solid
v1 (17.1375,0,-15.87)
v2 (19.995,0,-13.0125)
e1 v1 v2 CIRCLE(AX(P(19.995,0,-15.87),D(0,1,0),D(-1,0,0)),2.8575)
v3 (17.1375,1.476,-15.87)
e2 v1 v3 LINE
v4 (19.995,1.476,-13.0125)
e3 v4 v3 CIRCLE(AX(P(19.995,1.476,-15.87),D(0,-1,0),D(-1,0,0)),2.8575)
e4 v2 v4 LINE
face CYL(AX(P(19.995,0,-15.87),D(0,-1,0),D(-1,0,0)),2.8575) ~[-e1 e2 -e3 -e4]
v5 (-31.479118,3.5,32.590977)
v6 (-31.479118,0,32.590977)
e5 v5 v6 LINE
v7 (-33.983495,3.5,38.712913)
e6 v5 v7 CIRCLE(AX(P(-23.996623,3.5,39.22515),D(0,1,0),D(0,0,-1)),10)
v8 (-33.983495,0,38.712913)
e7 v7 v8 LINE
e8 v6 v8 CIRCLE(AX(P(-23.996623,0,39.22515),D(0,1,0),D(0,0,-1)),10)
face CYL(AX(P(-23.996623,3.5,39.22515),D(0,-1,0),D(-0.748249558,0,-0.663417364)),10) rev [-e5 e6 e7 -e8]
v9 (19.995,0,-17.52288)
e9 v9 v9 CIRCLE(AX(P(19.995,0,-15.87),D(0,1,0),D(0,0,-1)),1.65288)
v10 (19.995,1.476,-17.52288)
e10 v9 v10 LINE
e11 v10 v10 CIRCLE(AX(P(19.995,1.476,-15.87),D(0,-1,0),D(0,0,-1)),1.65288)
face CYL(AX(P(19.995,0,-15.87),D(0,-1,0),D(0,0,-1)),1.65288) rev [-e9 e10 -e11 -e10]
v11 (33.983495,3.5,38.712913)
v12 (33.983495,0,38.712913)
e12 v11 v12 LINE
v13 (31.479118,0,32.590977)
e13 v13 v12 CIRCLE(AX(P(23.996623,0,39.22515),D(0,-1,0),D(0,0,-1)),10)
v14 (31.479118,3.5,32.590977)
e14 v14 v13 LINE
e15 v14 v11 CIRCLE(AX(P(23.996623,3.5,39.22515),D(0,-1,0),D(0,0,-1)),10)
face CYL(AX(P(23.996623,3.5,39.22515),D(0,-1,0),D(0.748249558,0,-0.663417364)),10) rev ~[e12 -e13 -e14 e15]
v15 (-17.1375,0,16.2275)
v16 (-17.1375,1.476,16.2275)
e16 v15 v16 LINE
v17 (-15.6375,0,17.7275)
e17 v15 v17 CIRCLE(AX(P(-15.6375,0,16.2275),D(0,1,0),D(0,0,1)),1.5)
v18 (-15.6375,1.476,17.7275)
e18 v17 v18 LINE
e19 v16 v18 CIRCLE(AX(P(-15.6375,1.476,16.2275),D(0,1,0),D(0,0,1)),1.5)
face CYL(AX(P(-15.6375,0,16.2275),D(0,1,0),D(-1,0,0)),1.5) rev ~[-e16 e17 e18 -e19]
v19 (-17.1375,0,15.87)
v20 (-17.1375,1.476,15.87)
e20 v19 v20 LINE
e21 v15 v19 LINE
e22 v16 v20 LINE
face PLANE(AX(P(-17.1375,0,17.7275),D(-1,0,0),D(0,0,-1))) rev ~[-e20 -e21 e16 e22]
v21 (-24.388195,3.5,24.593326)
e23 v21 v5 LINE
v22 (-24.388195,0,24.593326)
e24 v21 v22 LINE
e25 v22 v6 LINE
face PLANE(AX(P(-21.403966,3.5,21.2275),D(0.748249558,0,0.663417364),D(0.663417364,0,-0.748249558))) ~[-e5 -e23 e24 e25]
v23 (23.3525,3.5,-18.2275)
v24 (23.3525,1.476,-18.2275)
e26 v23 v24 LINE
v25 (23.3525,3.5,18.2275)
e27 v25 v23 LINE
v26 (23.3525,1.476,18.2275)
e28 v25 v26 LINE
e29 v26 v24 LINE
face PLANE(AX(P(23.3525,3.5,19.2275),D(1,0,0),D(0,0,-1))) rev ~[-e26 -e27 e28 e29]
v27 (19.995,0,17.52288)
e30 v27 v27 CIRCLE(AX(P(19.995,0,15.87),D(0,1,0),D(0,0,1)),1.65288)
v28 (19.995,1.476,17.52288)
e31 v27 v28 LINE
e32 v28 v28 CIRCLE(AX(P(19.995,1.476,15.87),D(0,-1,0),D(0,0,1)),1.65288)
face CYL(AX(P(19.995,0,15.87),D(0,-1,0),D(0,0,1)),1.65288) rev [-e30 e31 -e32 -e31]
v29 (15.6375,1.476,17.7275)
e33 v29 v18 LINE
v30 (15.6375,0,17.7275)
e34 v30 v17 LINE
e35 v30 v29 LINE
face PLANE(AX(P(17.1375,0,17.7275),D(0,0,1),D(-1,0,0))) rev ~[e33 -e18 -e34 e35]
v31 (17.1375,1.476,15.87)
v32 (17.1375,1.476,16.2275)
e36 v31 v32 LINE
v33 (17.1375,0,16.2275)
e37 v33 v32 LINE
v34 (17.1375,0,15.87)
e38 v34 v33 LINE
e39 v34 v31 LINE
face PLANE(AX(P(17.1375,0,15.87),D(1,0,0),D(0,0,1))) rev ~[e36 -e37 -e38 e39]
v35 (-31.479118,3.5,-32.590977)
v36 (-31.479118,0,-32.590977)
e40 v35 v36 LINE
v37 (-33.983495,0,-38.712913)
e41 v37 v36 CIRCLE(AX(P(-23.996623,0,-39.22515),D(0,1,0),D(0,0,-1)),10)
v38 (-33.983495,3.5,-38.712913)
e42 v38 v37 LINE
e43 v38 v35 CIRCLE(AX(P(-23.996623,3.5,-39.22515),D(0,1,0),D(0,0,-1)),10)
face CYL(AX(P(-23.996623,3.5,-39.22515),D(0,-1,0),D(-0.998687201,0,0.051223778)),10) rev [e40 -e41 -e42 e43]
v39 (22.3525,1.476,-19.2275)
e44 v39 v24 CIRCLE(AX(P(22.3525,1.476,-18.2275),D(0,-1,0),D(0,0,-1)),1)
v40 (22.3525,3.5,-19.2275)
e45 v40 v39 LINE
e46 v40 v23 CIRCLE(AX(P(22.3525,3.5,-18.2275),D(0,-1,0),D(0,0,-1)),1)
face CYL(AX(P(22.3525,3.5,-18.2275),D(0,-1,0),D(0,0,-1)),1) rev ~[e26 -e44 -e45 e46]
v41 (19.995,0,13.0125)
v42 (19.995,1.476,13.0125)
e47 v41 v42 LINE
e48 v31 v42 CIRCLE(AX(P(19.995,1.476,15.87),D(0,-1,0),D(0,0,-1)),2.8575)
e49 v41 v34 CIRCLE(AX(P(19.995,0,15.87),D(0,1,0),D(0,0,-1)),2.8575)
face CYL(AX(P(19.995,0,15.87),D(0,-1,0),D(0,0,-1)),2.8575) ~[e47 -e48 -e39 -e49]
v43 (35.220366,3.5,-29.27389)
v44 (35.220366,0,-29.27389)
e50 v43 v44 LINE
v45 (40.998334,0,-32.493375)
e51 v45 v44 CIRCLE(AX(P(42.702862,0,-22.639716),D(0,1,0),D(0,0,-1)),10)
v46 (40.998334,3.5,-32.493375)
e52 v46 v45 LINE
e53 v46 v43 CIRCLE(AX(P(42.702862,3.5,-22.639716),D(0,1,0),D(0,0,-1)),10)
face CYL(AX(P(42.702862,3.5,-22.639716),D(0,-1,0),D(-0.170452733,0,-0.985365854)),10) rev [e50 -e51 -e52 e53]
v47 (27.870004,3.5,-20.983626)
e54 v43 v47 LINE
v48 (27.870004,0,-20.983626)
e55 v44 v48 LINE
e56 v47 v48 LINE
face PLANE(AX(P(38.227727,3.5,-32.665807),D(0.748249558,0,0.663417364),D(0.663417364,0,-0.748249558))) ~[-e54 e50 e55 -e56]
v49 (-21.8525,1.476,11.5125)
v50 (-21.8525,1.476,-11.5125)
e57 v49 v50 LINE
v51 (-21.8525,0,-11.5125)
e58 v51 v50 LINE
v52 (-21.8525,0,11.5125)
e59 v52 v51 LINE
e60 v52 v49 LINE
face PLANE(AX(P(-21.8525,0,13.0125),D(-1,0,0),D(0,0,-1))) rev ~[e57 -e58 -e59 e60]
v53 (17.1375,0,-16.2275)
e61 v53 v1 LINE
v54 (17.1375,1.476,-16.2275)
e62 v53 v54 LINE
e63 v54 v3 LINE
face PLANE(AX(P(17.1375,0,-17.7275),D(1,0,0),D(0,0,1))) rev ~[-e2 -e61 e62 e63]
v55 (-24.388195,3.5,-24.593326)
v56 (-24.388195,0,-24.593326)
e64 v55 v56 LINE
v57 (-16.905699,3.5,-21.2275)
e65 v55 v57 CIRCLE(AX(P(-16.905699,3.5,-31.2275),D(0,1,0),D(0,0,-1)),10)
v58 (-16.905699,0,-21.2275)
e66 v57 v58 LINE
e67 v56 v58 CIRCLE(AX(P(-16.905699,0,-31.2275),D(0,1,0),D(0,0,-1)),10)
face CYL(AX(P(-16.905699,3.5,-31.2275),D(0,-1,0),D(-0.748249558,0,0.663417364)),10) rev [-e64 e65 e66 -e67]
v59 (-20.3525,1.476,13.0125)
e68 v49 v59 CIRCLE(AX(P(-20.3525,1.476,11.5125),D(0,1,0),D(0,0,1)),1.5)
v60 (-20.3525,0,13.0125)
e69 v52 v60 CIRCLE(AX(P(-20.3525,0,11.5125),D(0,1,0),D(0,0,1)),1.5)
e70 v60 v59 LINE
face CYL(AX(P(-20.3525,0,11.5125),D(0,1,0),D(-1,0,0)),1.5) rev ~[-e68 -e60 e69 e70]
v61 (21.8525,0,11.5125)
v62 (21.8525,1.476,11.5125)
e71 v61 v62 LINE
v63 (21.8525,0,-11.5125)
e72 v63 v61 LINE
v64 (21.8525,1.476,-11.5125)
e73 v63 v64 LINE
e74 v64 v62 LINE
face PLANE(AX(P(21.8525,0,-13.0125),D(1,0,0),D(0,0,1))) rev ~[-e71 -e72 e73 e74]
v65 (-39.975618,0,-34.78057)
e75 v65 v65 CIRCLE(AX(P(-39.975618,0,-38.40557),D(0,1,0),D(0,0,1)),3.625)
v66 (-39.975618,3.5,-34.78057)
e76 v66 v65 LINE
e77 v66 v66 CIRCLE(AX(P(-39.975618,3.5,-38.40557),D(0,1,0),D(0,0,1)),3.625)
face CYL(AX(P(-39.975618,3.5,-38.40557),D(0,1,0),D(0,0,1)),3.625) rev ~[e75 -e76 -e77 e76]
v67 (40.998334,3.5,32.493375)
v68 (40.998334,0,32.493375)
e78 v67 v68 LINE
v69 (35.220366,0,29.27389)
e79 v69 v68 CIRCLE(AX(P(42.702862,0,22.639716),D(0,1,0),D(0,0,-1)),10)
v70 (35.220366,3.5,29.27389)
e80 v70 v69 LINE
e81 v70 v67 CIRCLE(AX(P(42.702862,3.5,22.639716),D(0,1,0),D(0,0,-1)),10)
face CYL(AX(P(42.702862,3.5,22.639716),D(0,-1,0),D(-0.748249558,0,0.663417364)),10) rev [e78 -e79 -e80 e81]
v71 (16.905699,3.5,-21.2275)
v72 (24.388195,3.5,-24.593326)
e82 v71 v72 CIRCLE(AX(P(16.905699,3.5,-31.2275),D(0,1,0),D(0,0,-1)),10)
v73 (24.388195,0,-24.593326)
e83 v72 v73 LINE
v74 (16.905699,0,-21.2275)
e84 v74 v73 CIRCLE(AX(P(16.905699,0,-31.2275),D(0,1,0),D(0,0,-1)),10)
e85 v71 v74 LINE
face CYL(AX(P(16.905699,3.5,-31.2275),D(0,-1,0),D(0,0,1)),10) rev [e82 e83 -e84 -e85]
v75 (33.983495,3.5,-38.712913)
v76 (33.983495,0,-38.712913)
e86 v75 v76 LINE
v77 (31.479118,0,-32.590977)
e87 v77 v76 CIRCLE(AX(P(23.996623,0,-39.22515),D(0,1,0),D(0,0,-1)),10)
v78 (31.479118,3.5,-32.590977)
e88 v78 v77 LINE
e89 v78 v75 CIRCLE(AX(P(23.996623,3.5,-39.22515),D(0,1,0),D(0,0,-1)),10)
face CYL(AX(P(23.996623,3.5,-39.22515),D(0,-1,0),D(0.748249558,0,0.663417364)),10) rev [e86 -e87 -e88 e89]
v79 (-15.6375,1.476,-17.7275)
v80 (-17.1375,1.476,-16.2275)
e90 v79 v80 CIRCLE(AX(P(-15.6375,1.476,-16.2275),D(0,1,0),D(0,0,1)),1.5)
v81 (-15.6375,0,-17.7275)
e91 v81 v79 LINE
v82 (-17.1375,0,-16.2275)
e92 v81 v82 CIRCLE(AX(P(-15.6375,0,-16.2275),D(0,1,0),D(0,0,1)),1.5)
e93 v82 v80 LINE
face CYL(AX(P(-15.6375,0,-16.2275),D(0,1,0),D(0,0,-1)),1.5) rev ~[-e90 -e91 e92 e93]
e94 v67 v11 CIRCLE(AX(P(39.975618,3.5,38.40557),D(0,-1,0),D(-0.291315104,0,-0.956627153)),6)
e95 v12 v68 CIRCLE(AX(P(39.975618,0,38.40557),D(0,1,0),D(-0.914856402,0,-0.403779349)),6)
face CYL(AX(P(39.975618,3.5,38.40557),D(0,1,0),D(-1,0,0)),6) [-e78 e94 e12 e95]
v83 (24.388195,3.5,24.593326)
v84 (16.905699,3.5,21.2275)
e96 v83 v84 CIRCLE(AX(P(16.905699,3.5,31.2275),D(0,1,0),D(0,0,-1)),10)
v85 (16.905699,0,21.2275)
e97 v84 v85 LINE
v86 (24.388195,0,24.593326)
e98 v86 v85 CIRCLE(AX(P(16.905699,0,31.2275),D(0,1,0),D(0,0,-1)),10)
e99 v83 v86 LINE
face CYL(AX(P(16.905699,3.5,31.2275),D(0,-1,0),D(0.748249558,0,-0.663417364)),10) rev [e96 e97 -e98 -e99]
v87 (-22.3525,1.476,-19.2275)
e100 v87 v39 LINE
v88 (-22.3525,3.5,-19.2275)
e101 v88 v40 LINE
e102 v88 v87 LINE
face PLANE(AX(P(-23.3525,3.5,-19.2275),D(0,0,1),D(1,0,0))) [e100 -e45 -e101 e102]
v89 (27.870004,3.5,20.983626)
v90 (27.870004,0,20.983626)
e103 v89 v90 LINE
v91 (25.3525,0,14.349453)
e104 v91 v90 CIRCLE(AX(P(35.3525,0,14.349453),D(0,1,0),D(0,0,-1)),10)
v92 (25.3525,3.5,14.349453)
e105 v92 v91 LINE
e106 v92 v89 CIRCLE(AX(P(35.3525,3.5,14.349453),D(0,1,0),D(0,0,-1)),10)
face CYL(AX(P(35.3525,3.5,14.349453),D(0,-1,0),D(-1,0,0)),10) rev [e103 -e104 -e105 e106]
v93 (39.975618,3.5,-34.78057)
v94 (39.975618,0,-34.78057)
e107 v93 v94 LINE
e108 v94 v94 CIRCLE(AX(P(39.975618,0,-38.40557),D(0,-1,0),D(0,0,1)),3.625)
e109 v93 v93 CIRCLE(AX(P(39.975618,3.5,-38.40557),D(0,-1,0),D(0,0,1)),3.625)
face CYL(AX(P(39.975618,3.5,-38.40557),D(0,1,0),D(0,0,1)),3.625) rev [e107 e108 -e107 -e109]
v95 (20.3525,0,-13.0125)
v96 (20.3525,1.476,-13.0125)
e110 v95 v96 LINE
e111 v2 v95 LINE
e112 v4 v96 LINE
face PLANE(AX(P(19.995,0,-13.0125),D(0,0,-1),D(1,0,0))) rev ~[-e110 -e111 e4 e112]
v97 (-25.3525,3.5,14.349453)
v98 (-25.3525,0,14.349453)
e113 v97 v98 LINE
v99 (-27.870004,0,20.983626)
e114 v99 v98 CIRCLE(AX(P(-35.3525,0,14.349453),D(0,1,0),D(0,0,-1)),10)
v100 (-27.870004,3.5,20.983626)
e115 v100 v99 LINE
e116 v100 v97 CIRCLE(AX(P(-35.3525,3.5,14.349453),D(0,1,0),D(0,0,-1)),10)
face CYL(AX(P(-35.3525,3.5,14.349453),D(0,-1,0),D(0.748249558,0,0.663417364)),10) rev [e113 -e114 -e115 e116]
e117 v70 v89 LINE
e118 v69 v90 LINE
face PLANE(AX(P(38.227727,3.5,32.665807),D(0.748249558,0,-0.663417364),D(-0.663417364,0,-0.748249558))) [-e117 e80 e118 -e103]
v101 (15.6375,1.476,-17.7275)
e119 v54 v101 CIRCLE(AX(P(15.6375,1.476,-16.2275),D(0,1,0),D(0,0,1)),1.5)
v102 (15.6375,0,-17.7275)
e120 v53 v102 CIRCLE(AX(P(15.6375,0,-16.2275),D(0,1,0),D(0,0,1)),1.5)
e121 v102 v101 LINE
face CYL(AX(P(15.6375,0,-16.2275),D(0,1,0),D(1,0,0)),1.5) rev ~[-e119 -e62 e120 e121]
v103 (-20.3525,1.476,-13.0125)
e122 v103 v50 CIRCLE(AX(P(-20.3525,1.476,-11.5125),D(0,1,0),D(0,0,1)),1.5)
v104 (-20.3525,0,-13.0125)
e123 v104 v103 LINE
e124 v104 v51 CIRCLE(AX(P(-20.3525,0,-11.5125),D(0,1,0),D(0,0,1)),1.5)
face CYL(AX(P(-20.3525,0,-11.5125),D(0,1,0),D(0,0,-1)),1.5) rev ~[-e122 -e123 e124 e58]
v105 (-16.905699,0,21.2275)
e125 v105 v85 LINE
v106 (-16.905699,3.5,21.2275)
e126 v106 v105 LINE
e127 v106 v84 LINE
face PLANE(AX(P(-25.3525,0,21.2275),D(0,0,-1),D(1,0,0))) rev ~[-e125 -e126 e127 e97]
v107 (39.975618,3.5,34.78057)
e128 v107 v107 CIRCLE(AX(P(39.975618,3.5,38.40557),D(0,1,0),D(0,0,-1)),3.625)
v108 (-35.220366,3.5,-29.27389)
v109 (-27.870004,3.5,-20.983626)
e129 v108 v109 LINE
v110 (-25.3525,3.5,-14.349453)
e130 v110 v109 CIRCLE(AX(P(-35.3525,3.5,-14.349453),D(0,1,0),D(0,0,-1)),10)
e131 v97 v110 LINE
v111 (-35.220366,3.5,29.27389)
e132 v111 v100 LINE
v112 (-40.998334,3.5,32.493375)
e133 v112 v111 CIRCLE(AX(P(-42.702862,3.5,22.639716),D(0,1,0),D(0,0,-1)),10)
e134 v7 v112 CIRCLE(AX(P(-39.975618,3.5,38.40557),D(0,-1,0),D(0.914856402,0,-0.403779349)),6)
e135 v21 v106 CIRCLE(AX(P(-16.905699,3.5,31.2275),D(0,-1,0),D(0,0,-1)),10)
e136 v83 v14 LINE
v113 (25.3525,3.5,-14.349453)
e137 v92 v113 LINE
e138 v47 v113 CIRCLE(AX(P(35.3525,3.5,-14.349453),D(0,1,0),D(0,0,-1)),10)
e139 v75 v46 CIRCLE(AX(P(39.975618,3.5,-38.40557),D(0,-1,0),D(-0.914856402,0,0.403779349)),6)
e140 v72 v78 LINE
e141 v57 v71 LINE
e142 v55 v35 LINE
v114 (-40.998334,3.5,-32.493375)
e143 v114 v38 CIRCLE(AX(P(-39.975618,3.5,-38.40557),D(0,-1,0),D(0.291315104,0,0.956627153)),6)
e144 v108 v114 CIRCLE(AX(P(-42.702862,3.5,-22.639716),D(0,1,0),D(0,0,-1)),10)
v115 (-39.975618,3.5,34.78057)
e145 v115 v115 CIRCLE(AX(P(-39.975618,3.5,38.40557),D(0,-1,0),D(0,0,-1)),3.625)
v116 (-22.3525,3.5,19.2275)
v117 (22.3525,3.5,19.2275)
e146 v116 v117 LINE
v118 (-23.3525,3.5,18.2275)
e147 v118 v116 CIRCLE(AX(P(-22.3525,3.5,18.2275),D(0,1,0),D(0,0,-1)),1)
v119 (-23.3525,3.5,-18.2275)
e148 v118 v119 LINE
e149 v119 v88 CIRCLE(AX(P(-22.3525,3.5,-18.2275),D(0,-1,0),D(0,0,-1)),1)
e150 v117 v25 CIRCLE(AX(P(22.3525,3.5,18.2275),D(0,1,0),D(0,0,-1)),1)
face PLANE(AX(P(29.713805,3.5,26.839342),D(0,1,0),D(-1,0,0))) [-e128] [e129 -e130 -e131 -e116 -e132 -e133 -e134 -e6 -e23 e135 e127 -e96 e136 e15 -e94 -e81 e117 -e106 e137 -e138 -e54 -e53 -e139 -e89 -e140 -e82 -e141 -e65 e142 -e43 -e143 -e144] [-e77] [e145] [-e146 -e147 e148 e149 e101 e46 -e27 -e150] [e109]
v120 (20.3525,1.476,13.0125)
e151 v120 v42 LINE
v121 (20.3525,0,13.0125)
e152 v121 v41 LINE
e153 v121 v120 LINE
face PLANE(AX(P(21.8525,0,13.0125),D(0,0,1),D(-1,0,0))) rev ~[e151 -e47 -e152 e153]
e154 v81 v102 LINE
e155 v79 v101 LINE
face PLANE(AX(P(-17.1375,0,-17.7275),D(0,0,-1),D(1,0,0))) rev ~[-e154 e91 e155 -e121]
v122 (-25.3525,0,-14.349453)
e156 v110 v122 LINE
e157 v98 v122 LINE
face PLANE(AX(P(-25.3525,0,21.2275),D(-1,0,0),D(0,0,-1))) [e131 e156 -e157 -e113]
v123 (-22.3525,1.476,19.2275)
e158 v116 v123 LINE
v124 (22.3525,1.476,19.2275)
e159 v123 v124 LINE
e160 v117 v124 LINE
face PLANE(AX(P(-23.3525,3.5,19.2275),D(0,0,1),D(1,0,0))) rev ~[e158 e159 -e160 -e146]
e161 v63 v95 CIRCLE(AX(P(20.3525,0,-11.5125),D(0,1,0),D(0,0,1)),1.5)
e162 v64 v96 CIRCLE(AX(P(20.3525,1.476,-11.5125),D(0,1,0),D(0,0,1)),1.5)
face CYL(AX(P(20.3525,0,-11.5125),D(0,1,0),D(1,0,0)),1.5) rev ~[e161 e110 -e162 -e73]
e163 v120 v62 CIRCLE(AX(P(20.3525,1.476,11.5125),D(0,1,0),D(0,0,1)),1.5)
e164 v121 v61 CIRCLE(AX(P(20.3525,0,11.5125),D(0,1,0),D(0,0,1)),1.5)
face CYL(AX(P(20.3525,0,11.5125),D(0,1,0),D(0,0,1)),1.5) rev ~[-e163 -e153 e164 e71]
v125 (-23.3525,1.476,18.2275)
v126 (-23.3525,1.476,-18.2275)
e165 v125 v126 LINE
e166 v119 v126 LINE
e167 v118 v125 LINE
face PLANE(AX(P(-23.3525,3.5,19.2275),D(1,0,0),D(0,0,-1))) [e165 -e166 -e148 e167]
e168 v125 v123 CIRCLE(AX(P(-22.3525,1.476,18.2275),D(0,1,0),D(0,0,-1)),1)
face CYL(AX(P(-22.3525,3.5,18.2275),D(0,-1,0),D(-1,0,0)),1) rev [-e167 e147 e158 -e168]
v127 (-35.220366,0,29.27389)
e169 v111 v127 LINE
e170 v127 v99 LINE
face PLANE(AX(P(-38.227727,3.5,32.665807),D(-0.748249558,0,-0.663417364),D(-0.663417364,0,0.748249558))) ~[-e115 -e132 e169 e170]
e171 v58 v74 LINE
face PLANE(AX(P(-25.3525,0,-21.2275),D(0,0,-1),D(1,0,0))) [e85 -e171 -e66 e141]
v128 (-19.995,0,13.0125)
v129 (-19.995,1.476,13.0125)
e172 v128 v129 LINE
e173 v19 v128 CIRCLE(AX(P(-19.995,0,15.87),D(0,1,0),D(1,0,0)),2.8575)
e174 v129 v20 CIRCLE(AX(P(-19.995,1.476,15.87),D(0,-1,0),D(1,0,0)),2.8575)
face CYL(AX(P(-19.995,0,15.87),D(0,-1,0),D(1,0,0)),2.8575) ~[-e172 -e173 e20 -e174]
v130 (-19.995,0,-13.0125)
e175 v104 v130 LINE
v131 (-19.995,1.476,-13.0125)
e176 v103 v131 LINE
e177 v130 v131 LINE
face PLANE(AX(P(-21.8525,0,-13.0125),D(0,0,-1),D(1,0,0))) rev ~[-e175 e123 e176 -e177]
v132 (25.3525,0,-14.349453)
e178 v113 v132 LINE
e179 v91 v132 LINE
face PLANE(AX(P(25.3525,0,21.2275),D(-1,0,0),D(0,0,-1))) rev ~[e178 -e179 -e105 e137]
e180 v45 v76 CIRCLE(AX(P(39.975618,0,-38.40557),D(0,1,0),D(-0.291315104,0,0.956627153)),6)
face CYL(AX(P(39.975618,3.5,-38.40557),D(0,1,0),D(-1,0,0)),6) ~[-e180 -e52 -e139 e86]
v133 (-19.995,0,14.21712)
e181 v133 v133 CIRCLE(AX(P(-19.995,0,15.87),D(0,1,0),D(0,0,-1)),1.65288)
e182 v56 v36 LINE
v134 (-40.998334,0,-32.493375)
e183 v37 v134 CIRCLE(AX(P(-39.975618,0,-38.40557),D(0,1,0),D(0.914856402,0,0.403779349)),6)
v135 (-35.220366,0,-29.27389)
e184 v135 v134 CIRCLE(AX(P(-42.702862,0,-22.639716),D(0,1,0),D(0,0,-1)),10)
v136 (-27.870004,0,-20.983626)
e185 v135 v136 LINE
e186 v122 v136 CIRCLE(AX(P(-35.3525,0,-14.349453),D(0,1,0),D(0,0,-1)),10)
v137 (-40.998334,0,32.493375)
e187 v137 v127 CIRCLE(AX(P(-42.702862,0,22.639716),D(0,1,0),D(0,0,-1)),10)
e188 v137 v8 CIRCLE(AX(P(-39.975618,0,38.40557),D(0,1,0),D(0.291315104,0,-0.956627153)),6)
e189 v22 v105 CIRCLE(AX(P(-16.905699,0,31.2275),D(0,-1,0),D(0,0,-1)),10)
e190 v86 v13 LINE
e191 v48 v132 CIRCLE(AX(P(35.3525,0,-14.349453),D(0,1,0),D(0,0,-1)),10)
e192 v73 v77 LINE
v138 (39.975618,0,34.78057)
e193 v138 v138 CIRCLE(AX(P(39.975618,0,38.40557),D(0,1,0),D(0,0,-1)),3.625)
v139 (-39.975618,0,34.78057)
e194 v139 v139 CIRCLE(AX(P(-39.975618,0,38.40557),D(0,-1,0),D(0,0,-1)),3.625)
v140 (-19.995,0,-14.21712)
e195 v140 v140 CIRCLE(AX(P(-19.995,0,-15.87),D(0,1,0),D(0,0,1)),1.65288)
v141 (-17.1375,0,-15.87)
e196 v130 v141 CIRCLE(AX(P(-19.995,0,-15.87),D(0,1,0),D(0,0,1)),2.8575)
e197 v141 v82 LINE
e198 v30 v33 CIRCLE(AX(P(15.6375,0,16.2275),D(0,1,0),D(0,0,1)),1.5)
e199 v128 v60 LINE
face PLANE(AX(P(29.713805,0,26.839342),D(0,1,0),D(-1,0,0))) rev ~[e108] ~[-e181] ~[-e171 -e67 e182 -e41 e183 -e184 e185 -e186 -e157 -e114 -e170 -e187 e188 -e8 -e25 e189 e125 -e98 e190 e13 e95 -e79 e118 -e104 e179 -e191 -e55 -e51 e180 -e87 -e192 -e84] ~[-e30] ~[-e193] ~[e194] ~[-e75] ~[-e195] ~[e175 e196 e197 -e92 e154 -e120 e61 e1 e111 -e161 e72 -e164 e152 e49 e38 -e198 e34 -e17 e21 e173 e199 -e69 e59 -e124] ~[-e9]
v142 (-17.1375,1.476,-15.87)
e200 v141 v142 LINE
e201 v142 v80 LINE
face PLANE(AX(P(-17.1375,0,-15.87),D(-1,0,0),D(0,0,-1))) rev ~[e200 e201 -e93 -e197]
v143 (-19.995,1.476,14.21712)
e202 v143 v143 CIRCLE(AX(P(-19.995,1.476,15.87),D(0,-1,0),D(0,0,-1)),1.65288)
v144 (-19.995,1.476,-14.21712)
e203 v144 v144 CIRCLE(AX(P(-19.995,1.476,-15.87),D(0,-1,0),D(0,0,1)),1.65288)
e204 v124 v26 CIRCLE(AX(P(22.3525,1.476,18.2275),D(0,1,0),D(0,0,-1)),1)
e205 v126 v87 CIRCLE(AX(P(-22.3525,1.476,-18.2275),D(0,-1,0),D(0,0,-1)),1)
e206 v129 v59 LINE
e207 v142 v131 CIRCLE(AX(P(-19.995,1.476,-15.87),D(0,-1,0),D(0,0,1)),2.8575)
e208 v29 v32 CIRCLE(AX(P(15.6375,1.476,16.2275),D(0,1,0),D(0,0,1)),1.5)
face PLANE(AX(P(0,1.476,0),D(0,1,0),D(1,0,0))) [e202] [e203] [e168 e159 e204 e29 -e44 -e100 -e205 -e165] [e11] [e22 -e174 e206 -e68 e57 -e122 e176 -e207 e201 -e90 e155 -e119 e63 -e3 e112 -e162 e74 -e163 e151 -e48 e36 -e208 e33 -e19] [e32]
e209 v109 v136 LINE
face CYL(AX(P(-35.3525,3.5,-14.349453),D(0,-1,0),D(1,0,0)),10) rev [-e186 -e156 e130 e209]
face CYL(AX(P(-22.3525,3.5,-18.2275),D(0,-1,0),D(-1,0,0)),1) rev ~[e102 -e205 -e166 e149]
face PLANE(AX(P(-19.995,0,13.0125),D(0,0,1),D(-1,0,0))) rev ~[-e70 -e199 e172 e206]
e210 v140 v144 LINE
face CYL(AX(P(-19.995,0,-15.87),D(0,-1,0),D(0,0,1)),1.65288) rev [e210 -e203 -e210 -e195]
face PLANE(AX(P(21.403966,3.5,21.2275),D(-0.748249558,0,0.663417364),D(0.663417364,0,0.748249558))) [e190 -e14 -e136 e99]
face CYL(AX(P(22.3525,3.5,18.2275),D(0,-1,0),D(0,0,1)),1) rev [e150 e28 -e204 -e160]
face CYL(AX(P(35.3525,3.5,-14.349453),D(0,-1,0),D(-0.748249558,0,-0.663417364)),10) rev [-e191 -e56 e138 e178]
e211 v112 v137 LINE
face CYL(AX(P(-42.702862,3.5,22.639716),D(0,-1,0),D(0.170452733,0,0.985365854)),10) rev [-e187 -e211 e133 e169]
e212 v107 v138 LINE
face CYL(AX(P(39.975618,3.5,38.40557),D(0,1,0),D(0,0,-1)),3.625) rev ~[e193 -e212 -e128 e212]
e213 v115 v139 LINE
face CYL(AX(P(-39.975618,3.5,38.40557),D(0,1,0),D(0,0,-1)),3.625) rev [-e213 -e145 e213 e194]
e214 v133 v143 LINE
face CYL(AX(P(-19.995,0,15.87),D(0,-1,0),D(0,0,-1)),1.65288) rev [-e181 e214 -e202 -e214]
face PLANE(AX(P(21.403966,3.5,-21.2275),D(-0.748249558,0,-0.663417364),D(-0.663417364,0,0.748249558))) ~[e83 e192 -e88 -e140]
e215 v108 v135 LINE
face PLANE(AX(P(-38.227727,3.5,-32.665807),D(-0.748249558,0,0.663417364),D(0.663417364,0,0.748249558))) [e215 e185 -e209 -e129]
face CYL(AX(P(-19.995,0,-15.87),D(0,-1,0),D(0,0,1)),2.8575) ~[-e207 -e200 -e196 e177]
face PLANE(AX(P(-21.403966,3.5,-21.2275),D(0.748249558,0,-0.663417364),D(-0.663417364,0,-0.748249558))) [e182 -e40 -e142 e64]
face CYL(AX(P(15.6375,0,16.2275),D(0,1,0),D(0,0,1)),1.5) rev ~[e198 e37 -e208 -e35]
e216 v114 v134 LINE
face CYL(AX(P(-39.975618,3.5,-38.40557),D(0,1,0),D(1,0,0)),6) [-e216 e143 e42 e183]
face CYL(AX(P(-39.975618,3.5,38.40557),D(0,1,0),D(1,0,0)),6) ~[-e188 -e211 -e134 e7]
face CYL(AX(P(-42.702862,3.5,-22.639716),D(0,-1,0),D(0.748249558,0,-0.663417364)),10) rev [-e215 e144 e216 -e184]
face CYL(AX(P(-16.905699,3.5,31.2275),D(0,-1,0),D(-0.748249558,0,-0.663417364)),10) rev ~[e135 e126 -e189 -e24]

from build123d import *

# Parameters (mm, degrees)
SKETCH1_W                 = 50.705
SKETCH1_H                 = 42.455
SKETCH1_R                 = 1.65288
BOSS_EXTRUDE1_DEPTH       = 3.5
SKETCH2_W                 = 46.705
SKETCH2_H                 = 38.455
CUT_EXTRUDE1_DEPTH        = 2.024
SKETCH3_R                 = 6
SKETCH3_R_2               = 3.625
BOSS_EXTRUDE2_DEPTH       = 3.5
FILLET2_R                 = 1.5
FILLET3_R                 = 1
MIRROR2_COPY_1_SKETCH_R   = 6
MIRROR2_COPY_1_SKETCH_R_2 = 3.625
MIRROR2_COPY_1_DEPTH      = 3.5
FILLET1_R                 = 10


with BuildPart() as part:
    # Sketch1 → Boss-Extrude1 (new body)
    with BuildSketch(Plane(origin=(0, 0, 0), x_dir=(1, 0, 0), z_dir=(0, 1, 0))):
        Rectangle(SKETCH1_W, SKETCH1_H)
        with Locations(Location((-19.995, 15.87, 0), (0, 0, 270))):
            Circle(SKETCH1_R, mode=Mode.SUBTRACT)
        with Locations(Location((19.995, 15.87, 0), (0, 0, 90))):
            Circle(SKETCH1_R, mode=Mode.SUBTRACT)
        with Locations(Location((19.995, -15.87, 0), (0, 0, 270))):
            Circle(SKETCH1_R, mode=Mode.SUBTRACT)
        with Locations(Location((-19.995, -15.87, 0), (0, 0, 90))):
            Circle(SKETCH1_R, mode=Mode.SUBTRACT)
        with BuildLine():
            Line((21.8525, 13.0125), (21.8525, -13.0125))
            Line((21.8525, -13.0125), (19.995, -13.0125))
            ThreePointArc((19.995, -13.0125), (17.974442373, -13.849442373), (17.1375, -15.87))
            Line((17.1375, -15.87), (17.1375, -17.7275))
            Line((17.1375, -17.7275), (-17.1375, -17.7275))
            Line((-17.1375, -17.7275), (-17.1375, -15.87))
            ThreePointArc((-17.1375, -15.87), (-17.974442373, -13.849442373), (-19.995, -13.0125))
            Line((-19.995, -13.0125), (-21.8525, -13.0125))
            Line((-21.8525, -13.0125), (-21.8525, 13.0125))
            Line((-21.8525, 13.0125), (-19.995, 13.0125))
            ThreePointArc((-19.995, 13.0125), (-17.974442373, 13.849442373), (-17.1375, 15.87))
            Line((-17.1375, 15.87), (-17.1375, 17.7275))
            Line((-17.1375, 17.7275), (17.1375, 17.7275))
            Line((17.1375, 17.7275), (17.1375, 15.87))
            ThreePointArc((17.1375, 15.87), (17.974442373, 13.849442373), (19.995, 13.0125))
            Line((19.995, 13.0125), (21.8525, 13.0125))
        make_face(mode=Mode.SUBTRACT)
    extrude(amount=BOSS_EXTRUDE1_DEPTH)

    # Sketch2 → Cut-Extrude1 (cut)
    with BuildSketch(Plane(origin=(0, 3.5, 0), x_dir=(1, 0, 0), z_dir=(0, 1, 0))):
        Rectangle(SKETCH2_W, SKETCH2_H)
    extrude(amount=-CUT_EXTRUDE1_DEPTH, mode=Mode.SUBTRACT)

    # Sketch3 → Boss-Extrude2 (add)
    # profile 1 of 3: a face of its own
    with BuildSketch(Plane(origin=(0, 3.5, 0), x_dir=(1, 0, 0), z_dir=(0, 1, 0))):
        with BuildLine():
            Line((-25.3525, 21.2275), (-21.403966459, 21.2275))
            Line((-21.403966459, 21.2275), (-34.48647943, 35.98289392))
            ThreePointArc((-34.48647943, 35.98289392), (-35.995113658, 33.91607267), (-38.227727219, 32.665807098))
            Line((-38.227727219, 32.665807098), (-25.3525, 18.144204877))
            Line((-25.3525, 18.144204877), (-25.3525, 21.2275))
        make_face()
    # profile 2 of 3: a face of its own
    with BuildSketch(Plane(origin=(0, 3.5, 0), x_dir=(1, 0, 0), z_dir=(0, 1, 0))):
        Polygon((-23.891843474, 20.265138811), (-20.550712197, 20.265138811), (-21.403966459, 21.2275), (-25.3525, 21.2275), (-25.3525, 18.144204877), (-24.536212364, 17.223537292), align=None)
    # profile 3 of 3: a face of its own
    with BuildSketch(Plane(origin=(0, 3.5, 0), x_dir=(1, 0, 0), z_dir=(0, 1, 0))):
        with Locations((-39.975617845, 38.405570016)):
            Circle(SKETCH3_R)
        with Locations(Location((-39.975617845, 38.405570016, 0), (0, 0, 270))):
            Circle(SKETCH3_R_2, mode=Mode.SUBTRACT)
    boss_extrude2 = extrude(amount=-BOSS_EXTRUDE2_DEPTH)

    # Fillet2
    fillet2_edges = [part.edges().sort_by_distance(p)[0] for p in [
        (21.8525, 0.738, -13.0125),
        (21.8525, 0.738, 13.0125),
        (17.1375, 0.738, 17.7275),
        (-17.1375, 0.738, 17.7275),
        (-21.8525, 0.738, 13.0125),
        (-21.8525, 0.738, -13.0125),
        (-17.1375, 0.738, -17.7275),
        (17.1375, 0.738, -17.7275),
    ]]
    fillet(fillet2_edges, radius=FILLET2_R)

    # Fillet3
    fillet3_edges = [part.edges().sort_by_distance(p)[0] for p in [
        (-23.3525, 2.488, 19.2275),
        (-23.3525, 2.488, -19.2275),
        (23.3525, 2.488, -19.2275),
        (23.3525, 2.488, 19.2275),
    ]]
    fillet(fillet3_edges, radius=FILLET3_R)

    # Mirror1: Boss-Extrude2 across plane
    add(boss_extrude2.mirror(Plane.XY))

    # Mirror2: Boss-Extrude2 across plane
    add(boss_extrude2.mirror(Plane(origin=(0, 0, 0), x_dir=(0, 0, 1), z_dir=(1, 0, 0))))

    # Mirror2 copy 1 sketch → Mirror2 copy 1 (add)
    # profile 1 of 3: a face of its own
    with BuildSketch(Plane(origin=(0, 3.5, 0), x_dir=(-1, 0, 0), z_dir=(0, 1, 0))):
        with BuildLine():
            Line((-25.3525, 21.2275), (-21.403966459, 21.2275))
            Line((-21.403966459, 21.2275), (-34.48647943, 35.98289392))
            ThreePointArc((-34.48647943, 35.98289392), (-35.995113658, 33.91607267), (-38.227727219, 32.665807098))
            Line((-38.227727219, 32.665807098), (-25.3525, 18.144204877))
            Line((-25.3525, 18.144204877), (-25.3525, 21.2275))
        make_face()
    # profile 2 of 3: a face of its own
    with BuildSketch(Plane(origin=(0, 3.5, 0), x_dir=(-1, 0, 0), z_dir=(0, 1, 0))):
        Polygon((-23.891843474, 20.265138811), (-20.550712197, 20.265138811), (-21.403966459, 21.2275), (-25.3525, 21.2275), (-25.3525, 18.144204877), (-24.536212364, 17.223537292), align=None)
    # profile 3 of 3: a face of its own
    with BuildSketch(Plane(origin=(0, 3.5, 0), x_dir=(-1, 0, 0), z_dir=(0, 1, 0))):
        with Locations((-39.975617845, 38.405570016)):
            Circle(MIRROR2_COPY_1_SKETCH_R)
        with Locations(Location((-39.975617845, 38.405570016, 0), (0, 0, 270))):
            Circle(MIRROR2_COPY_1_SKETCH_R_2, mode=Mode.SUBTRACT)
    extrude(amount=-MIRROR2_COPY_1_DEPTH)

    # Fillet1
    fillet1_edges = [part.edges().sort_by_distance(p)[0] for p in [
        (-25.3525, 1.75, -18.144204877),
        (-21.403966459, 1.75, -21.2275),
        (-34.48647943, 1.75, -35.98289392),
        (-38.227727219, 1.75, -32.665807098),
        (-21.403966459, 1.75, 21.2275),
        (-38.227727219, 1.75, 32.665807098),
        (-34.48647943, 1.75, 35.98289392),
        (-25.3525, 1.75, 18.144204877),
        (25.3525, 1.75, 18.144204877),
        (34.48647943, 1.75, 35.98289392),
        (38.227727219, 1.75, 32.665807098),
        (21.403966459, 1.75, 21.2275),
        (21.403966459, 1.75, -21.2275),
        (38.227727219, 1.75, -32.665807098),
        (34.48647943, 1.75, -35.98289392),
        (25.3525, 1.75, -18.144204877),
    ]]
    fillet(fillet1_edges, radius=FILLET1_R)


solid = part.part
